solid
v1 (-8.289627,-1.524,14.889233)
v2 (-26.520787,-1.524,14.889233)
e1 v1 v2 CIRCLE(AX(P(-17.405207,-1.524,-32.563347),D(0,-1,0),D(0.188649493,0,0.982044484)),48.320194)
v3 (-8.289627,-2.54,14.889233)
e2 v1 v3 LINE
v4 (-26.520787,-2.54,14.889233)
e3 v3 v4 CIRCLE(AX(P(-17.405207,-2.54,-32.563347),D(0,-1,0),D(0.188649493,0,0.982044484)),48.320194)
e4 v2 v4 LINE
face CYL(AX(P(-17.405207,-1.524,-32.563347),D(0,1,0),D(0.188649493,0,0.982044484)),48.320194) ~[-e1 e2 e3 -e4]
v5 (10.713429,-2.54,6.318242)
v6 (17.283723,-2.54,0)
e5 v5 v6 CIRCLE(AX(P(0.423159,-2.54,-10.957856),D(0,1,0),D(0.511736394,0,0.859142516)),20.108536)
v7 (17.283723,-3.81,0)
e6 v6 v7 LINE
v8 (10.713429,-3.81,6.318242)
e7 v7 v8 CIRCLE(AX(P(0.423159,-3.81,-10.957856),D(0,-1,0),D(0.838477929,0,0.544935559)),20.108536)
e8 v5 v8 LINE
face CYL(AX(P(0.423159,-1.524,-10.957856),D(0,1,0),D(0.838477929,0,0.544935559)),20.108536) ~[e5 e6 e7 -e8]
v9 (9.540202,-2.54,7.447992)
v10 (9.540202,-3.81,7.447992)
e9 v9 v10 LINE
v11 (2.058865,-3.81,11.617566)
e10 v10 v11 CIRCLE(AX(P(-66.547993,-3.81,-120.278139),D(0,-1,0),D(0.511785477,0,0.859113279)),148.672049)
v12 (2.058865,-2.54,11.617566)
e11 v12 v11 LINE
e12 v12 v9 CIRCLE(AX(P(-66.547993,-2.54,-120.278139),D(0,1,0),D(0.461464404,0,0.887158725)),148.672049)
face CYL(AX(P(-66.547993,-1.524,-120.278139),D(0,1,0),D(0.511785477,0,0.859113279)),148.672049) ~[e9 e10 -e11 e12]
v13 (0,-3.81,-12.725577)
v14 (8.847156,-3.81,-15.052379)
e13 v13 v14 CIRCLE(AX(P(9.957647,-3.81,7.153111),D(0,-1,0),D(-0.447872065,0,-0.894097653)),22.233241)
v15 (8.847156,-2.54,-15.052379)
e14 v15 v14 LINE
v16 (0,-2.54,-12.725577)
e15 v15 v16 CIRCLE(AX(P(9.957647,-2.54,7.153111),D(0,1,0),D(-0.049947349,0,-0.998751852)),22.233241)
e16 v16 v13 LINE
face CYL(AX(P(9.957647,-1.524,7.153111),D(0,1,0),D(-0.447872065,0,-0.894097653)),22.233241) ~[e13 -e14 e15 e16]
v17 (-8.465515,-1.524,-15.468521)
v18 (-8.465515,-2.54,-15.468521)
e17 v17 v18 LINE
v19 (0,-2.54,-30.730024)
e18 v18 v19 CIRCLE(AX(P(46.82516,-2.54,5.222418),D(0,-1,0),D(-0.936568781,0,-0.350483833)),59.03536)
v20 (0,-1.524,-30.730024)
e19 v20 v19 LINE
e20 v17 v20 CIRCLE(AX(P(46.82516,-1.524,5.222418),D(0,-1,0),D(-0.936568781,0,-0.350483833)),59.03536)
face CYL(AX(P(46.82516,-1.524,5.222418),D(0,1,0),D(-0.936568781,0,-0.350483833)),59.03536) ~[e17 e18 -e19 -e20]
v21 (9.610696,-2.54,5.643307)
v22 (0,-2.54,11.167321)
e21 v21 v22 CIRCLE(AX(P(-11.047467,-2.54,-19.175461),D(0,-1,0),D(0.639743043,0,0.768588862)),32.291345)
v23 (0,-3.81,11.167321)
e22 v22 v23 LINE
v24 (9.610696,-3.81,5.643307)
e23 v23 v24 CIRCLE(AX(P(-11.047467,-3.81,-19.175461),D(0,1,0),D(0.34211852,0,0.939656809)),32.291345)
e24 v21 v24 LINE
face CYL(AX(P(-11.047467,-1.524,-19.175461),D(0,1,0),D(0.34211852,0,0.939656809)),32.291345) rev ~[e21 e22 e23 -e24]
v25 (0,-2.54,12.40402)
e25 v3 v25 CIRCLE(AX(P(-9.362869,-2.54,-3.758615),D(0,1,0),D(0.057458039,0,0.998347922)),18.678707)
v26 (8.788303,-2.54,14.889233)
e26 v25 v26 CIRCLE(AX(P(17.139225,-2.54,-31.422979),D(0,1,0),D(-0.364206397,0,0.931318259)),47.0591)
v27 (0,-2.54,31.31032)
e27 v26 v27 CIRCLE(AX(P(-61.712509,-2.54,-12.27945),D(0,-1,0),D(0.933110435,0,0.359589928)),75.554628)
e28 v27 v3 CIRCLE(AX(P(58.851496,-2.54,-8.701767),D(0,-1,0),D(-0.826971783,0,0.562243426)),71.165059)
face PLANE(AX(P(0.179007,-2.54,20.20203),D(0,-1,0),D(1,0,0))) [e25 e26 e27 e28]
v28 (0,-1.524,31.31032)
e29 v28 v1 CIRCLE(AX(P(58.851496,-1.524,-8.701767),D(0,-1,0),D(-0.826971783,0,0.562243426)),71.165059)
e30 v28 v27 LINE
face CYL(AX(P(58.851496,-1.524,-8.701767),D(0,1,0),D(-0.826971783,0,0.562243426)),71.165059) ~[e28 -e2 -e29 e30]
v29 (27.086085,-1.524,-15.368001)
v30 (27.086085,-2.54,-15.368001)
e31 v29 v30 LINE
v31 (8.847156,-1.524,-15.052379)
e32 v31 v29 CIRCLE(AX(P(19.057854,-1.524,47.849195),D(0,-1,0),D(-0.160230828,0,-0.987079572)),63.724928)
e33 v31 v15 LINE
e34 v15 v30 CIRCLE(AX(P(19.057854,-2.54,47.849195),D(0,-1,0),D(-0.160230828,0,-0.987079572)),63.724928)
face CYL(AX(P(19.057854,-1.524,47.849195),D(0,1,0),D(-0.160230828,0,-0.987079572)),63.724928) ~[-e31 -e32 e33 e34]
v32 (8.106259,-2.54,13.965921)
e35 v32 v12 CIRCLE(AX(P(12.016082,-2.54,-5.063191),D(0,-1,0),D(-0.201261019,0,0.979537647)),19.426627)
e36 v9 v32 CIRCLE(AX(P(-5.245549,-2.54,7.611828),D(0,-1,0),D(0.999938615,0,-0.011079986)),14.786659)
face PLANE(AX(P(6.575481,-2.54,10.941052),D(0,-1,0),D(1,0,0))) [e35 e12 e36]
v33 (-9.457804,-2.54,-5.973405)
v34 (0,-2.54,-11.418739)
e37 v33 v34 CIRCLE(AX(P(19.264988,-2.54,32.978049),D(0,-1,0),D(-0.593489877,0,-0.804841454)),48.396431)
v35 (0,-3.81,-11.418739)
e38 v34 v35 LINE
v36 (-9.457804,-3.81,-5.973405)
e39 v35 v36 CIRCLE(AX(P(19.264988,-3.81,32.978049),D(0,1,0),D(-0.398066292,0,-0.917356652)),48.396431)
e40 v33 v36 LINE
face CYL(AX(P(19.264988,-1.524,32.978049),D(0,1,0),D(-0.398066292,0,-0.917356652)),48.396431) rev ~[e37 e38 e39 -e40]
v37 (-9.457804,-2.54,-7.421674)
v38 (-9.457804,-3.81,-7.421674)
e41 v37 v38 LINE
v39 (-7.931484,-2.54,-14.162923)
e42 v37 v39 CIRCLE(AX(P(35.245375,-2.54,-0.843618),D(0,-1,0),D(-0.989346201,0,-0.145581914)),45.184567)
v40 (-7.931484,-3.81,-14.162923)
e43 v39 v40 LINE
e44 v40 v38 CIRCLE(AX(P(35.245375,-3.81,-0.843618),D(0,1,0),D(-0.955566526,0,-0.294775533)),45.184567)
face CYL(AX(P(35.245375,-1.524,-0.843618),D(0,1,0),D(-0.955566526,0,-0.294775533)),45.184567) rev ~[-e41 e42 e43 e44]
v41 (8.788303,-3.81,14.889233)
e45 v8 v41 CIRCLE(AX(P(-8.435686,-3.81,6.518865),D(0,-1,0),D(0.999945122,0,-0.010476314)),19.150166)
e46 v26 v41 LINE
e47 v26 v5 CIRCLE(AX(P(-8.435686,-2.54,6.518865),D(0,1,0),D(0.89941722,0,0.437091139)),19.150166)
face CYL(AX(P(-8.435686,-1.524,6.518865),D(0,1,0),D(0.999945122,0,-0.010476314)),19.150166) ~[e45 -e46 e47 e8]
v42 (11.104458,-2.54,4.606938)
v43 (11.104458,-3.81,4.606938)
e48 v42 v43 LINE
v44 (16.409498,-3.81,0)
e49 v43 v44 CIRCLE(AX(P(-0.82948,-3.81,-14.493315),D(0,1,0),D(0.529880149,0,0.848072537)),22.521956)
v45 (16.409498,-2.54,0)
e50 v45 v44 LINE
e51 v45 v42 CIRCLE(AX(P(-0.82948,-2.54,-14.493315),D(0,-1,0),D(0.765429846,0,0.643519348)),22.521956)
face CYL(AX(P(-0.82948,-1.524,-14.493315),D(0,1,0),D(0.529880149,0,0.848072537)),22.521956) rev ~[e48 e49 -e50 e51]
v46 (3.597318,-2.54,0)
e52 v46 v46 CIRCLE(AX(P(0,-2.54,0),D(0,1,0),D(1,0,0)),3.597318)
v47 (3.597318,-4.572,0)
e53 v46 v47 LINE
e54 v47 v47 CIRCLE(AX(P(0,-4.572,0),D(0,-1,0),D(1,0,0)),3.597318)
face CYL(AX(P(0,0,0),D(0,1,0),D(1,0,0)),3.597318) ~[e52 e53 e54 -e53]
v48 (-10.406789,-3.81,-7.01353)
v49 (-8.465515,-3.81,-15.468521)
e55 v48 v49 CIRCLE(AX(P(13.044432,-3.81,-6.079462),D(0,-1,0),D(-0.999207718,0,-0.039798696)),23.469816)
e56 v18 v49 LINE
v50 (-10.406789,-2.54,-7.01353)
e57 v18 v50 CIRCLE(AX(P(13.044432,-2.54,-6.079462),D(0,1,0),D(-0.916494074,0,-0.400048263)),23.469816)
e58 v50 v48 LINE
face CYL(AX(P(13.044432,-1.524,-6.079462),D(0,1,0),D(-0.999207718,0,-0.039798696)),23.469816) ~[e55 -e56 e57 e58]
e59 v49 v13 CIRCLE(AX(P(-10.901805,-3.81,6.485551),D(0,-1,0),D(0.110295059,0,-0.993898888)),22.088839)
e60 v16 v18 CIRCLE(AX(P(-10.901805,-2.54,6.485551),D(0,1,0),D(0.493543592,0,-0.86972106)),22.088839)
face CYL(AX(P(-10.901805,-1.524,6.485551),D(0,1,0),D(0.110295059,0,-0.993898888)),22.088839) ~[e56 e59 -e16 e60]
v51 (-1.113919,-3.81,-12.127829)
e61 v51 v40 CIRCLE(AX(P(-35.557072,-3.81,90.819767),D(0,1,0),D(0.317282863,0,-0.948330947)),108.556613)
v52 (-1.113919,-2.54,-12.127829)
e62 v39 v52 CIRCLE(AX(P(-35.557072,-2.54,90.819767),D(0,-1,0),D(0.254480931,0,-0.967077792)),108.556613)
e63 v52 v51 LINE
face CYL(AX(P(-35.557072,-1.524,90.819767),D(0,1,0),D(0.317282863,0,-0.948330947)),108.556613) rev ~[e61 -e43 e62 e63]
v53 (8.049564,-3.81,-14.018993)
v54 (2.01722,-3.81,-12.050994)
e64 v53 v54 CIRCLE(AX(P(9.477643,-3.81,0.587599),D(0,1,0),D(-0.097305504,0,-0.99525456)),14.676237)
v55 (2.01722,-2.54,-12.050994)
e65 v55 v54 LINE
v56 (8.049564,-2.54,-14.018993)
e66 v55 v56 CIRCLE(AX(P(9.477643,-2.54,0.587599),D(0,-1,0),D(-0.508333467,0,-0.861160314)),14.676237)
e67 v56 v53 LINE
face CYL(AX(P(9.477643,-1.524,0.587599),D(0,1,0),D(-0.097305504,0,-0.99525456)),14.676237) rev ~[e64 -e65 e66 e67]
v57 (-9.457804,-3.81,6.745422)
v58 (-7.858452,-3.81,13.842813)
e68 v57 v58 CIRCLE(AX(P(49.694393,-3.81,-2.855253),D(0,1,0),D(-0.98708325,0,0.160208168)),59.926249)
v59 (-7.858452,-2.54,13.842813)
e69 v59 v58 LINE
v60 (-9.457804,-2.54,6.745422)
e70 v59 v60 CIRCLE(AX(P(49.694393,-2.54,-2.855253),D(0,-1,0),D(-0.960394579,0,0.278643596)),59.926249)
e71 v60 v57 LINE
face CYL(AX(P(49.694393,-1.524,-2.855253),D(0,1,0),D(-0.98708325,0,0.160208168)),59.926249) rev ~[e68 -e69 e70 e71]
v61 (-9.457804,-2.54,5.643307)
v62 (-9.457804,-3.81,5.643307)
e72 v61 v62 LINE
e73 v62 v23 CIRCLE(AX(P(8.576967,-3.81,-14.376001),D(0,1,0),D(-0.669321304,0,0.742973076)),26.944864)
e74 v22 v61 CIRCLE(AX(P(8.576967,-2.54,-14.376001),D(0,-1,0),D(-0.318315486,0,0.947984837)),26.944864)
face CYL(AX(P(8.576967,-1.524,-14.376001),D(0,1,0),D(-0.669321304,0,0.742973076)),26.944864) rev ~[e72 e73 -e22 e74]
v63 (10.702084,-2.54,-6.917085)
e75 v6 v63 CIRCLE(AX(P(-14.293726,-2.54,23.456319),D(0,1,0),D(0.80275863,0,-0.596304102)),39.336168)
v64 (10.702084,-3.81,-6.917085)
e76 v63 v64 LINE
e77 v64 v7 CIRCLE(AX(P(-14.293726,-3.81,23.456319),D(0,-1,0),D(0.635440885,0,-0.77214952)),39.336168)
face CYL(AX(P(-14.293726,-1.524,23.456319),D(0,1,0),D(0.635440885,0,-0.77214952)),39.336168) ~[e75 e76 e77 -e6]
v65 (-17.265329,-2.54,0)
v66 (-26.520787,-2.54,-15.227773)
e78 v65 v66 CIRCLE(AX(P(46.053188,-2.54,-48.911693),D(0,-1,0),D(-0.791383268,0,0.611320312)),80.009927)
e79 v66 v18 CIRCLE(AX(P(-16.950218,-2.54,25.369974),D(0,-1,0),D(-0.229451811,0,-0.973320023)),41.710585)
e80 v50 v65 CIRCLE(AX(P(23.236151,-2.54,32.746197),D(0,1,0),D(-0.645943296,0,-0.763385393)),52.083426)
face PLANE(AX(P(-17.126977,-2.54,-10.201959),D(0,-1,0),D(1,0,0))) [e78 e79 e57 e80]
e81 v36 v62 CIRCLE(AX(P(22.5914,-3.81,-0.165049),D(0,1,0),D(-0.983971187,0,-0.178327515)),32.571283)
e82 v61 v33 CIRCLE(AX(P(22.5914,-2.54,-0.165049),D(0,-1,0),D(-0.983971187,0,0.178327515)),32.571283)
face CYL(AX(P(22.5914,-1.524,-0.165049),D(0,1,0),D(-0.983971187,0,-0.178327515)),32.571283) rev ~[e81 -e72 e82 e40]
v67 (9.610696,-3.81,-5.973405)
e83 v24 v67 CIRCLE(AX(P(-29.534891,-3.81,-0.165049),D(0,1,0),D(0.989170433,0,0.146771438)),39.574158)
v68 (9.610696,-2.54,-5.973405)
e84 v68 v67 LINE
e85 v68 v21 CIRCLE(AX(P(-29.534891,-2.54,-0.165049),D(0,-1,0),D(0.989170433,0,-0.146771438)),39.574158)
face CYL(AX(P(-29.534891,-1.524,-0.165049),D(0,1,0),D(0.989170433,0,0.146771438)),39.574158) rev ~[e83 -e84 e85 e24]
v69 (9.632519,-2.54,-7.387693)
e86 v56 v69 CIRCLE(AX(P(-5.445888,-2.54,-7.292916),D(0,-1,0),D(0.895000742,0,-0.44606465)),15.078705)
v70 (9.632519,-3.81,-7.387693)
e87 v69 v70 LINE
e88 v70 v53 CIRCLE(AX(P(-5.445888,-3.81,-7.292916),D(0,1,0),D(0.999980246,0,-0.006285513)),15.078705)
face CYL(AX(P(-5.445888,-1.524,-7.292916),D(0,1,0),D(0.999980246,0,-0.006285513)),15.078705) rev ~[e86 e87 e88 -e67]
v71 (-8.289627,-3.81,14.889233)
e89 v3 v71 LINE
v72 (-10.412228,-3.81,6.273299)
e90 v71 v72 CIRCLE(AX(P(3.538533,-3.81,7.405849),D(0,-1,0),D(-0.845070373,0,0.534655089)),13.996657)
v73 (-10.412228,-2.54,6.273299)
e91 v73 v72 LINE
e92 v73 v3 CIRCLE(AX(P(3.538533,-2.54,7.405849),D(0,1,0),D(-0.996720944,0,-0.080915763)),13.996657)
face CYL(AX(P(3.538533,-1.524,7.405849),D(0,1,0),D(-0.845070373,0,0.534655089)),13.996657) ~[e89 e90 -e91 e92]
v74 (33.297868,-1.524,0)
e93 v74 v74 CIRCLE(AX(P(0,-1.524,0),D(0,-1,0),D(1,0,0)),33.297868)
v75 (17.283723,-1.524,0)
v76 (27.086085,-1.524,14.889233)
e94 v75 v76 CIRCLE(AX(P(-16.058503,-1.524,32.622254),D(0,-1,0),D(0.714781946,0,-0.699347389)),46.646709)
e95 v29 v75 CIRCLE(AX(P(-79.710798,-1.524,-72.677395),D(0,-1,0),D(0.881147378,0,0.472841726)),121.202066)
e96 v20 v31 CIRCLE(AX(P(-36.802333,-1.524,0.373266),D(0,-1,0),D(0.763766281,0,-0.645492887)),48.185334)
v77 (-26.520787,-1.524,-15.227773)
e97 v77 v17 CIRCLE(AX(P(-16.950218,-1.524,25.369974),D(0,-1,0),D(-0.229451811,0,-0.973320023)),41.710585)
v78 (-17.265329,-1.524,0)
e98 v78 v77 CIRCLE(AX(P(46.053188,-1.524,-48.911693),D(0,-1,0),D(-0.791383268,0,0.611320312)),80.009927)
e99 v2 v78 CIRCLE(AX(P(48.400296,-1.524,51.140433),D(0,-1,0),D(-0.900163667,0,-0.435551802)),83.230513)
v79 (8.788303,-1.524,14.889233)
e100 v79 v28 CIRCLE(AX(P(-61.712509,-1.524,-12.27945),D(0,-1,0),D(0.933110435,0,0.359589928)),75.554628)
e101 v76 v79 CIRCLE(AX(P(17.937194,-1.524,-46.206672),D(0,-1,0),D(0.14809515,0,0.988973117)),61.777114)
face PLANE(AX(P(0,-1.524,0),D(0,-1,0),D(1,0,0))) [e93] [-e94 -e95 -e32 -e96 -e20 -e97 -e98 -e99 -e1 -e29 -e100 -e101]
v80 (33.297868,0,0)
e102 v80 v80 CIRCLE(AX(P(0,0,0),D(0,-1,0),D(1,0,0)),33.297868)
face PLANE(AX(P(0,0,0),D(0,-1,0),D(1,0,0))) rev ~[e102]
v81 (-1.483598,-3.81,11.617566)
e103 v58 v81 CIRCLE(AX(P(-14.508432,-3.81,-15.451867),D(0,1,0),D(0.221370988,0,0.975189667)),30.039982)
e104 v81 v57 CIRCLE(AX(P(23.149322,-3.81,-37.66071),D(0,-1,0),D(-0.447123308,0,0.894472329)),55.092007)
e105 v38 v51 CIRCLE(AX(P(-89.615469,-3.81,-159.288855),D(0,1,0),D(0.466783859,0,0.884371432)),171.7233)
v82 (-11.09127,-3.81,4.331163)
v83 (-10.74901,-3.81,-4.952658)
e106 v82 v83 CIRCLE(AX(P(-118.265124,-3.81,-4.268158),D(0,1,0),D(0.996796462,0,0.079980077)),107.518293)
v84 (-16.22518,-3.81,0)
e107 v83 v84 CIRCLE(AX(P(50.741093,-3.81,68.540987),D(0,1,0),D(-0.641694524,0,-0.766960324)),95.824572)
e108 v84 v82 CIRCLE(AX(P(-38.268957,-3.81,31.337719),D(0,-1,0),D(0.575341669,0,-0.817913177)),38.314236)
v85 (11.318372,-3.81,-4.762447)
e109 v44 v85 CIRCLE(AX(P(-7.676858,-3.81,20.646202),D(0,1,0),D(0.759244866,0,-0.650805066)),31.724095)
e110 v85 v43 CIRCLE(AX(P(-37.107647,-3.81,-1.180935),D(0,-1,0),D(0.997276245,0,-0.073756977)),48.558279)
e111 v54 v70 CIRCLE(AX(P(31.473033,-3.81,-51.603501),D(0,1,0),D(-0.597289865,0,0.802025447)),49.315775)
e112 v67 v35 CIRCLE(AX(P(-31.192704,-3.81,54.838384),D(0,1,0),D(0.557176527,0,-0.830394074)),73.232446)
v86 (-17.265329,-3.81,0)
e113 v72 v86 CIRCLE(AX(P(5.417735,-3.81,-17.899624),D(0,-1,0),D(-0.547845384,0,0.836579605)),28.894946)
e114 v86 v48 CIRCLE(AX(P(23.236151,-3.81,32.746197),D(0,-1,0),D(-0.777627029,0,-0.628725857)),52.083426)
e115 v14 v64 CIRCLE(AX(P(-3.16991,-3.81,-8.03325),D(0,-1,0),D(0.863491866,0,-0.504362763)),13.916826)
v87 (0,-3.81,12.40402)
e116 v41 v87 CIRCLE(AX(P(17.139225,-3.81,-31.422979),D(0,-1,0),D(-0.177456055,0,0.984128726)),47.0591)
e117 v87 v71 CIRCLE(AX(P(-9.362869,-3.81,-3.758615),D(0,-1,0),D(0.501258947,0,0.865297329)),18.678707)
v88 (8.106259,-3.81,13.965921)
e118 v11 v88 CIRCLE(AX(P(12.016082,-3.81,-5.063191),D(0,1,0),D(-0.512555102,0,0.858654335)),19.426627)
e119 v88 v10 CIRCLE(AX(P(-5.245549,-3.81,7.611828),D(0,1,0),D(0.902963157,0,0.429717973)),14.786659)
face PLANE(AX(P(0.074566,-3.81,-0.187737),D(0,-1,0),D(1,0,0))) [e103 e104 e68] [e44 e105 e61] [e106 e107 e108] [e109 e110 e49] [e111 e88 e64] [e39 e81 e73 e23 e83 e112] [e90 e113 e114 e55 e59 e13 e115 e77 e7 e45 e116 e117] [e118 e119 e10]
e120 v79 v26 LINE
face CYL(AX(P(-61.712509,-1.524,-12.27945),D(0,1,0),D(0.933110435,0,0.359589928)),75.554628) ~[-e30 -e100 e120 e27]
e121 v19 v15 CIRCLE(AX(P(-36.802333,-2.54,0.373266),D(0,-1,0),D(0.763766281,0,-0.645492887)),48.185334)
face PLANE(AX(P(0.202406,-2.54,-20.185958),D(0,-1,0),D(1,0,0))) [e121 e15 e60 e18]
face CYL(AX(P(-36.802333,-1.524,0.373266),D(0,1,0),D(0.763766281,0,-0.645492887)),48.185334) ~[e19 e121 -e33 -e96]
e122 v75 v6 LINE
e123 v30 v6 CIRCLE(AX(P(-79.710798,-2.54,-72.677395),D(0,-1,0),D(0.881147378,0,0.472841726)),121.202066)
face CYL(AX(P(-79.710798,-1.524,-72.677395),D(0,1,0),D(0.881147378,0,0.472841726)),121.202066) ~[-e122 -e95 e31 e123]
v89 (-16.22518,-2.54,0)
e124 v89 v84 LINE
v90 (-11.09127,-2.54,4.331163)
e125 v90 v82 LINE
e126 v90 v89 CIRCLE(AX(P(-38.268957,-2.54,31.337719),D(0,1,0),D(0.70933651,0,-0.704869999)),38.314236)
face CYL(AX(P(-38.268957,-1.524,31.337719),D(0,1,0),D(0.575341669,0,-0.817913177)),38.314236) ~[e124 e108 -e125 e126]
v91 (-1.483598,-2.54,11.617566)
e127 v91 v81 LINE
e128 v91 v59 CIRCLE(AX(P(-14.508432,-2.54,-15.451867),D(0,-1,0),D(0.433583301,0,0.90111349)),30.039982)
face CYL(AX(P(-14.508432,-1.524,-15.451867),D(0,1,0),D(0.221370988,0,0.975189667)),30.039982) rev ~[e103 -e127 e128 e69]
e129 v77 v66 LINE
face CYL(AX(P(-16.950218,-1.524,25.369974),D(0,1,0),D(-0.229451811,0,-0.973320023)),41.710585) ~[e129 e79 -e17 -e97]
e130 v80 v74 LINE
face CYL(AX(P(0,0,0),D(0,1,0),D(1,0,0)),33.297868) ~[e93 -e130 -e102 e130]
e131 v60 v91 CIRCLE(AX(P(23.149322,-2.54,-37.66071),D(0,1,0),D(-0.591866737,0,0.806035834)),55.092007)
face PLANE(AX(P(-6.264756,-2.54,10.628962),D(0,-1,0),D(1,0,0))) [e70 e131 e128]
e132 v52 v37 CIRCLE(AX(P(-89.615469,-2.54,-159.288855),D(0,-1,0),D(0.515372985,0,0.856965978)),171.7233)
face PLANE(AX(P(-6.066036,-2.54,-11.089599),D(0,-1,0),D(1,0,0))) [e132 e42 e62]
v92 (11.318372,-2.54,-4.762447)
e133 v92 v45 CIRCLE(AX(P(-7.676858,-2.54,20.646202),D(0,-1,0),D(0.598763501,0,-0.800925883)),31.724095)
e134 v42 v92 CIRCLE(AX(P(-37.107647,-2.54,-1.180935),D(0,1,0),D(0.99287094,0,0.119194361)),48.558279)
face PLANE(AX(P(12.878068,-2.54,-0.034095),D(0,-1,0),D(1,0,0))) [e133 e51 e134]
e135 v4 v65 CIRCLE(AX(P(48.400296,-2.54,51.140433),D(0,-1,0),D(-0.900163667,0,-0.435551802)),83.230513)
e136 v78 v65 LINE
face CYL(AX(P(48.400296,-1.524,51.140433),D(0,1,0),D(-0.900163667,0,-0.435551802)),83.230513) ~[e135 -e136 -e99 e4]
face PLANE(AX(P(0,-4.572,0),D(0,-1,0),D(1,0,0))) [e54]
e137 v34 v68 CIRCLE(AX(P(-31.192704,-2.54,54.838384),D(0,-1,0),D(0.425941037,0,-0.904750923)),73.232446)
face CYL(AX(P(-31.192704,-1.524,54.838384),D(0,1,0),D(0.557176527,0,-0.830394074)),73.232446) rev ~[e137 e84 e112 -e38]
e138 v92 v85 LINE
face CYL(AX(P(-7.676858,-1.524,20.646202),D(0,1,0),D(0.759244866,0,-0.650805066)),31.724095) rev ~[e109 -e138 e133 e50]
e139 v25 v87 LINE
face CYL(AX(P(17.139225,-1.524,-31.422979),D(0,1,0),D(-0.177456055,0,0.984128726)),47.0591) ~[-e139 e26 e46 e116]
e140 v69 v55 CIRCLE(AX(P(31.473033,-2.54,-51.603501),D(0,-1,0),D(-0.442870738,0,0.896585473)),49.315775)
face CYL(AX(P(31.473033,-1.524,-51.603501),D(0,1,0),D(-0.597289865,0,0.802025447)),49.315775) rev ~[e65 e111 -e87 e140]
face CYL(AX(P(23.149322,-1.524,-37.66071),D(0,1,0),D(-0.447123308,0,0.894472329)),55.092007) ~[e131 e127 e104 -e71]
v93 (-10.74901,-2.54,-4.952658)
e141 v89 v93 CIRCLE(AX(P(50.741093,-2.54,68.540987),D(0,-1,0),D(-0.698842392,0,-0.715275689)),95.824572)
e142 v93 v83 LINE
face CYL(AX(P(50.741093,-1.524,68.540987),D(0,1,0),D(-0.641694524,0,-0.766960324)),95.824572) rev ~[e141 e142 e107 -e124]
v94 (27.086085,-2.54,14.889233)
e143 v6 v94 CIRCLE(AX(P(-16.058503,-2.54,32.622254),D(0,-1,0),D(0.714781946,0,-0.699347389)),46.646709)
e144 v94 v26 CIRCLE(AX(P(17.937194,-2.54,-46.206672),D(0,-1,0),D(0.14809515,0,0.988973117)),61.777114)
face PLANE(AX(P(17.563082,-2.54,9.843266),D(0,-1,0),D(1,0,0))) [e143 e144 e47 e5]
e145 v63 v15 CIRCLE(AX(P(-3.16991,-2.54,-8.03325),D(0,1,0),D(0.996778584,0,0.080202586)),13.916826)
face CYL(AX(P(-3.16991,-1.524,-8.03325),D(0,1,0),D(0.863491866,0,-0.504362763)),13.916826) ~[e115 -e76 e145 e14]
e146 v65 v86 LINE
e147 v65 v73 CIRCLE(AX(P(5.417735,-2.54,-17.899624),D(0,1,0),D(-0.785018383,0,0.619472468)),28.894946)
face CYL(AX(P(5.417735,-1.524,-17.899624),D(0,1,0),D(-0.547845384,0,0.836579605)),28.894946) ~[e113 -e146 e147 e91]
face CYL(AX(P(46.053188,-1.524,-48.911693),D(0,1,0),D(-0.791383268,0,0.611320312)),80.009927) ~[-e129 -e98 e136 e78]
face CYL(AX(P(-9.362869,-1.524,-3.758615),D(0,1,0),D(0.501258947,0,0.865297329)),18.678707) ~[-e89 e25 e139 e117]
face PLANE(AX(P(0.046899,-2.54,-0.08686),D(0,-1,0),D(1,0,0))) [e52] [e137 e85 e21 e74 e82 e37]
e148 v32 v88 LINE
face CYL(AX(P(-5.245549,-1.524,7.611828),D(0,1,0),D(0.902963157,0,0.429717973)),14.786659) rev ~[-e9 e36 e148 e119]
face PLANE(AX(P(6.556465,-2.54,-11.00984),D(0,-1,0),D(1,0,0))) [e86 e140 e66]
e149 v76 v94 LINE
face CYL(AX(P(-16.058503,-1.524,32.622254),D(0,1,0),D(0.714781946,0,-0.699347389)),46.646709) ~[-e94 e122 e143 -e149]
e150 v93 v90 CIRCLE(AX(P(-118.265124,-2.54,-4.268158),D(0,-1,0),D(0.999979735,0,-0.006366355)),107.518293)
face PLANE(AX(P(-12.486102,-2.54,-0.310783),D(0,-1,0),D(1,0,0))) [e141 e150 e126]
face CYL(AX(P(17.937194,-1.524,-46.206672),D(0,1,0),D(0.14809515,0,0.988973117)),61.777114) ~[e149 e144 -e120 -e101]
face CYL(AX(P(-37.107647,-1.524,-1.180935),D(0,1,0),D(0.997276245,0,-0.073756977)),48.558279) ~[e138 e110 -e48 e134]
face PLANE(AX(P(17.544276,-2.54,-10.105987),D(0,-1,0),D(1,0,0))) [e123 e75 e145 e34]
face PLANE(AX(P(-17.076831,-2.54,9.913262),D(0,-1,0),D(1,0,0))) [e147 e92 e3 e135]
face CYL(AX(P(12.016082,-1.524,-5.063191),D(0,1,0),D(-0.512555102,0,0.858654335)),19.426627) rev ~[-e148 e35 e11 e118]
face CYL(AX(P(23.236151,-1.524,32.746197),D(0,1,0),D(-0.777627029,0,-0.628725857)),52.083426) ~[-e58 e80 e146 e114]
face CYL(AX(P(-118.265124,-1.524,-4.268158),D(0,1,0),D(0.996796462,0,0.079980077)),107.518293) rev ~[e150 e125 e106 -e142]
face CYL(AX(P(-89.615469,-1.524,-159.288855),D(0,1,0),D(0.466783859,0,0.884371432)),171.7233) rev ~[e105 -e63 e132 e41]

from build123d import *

# Parameters (mm, degrees)
F2_R     = 3.597318
F3_DEPTH = 4.572
F1_R     = 33.297868
F4_DEPTH = 1.524
F6_DEPTH = 2.286
F7_DEPTH = 1.016


with BuildPart() as f3:
    # F2 (on face) → F3 (new body)
    with BuildSketch(Plane.XZ):
        Circle(F2_R)
    extrude(amount=F3_DEPTH)

    # F1 (on Front) → F4 (join)
    with BuildSketch(Plane.XZ):
        Circle(F1_R)
    extrude(amount=F4_DEPTH)

    # F5 (on face) → F6 (join)
    with BuildSketch(Plane.XZ.offset(1.524)):
        with BuildLine():
            ThreePointArc((10.713429, 6.318242), (10.248964, 10.715615), (8.788303, 14.889233))
            ThreePointArc((8.788303, 14.889233), (4.333719, 13.860328), (0, 12.40402))
            ThreePointArc((0, 12.40402), (-3.998899, 14.133336), (-8.289627, 14.889233))
            ThreePointArc((-8.289627, 14.889233), (-10.051786, 10.753928), (-10.412228, 6.273299))
            ThreePointArc((-10.412228, 6.273299), (-14.092567, 3.413894), (-17.265329, 0))
            ThreePointArc((-17.265329, 0), (-14.001547, -3.668596), (-10.406789, -7.01353))
            ThreePointArc((-10.406789, -7.01353), (-9.830191, -11.331497), (-8.465515, -15.468521))
            ThreePointArc((-8.465515, -15.468521), (-4.093198, -14.52777), (0, -12.725577))
            ThreePointArc((0, -12.725577), (4.302612, -14.348925), (8.847156, -15.052379))
            ThreePointArc((8.847156, -15.052379), (10.398679, -11.127024), (10.702084, -6.917085))
            ThreePointArc((10.702084, -6.917085), (14.203553, -3.658977), (17.283723, 0))
            ThreePointArc((17.283723, 0), (14.361308, 3.536323), (10.713429, 6.318242))
        make_face()
        with BuildLine():
            ThreePointArc((-10.74901, -4.952658), (-13.534815, -2.529093), (-16.22518, 0))
            ThreePointArc((-16.22518, 0), (-13.56313, 2.052862), (-11.09127, 4.331163))
            ThreePointArc((-11.09127, 4.331163), (-10.819822, -0.307049), (-10.74901, -4.952658))
        make_face(mode=Mode.SUBTRACT)
        with BuildLine():
            ThreePointArc((-1.113919, -12.127829), (-4.506024, -13.201244), (-7.931484, -14.162923))
            ThreePointArc((-7.931484, -14.162923), (-8.823734, -10.821527), (-9.457804, -7.421674))
            ThreePointArc((-9.457804, -7.421674), (-5.253039, -9.716557), (-1.113919, -12.127829))
        make_face(mode=Mode.SUBTRACT)
        with BuildLine():
            ThreePointArc((9.610696, -5.973405), (4.908164, -8.877536), (0, -11.418739))
            ThreePointArc((0, -11.418739), (-4.882883, -8.963516), (-9.457804, -5.973405))
            ThreePointArc((-9.457804, -5.973405), (-9.979883, -0.165049), (-9.457804, 5.643307))
            ThreePointArc((-9.457804, 5.643307), (-5.012545, 8.890946), (0, 11.167321))
            ThreePointArc((0, 11.167321), (5.044159, 8.820798), (9.610696, 5.643307))
            ThreePointArc((9.610696, 5.643307), (10.039267, -0.165049), (9.610696, -5.973405))
        make_face(mode=Mode.SUBTRACT)
        with BuildLine():
            ThreePointArc((9.632519, -7.387693), (9.220737, -10.79398), (8.049564, -14.018993))
            ThreePointArc((8.049564, -14.018993), (4.925761, -13.364903), (2.01722, -12.050994))
            ThreePointArc((2.01722, -12.050994), (5.719103, -9.546625), (9.632519, -7.387693))
        make_face(mode=Mode.SUBTRACT)
        with BuildLine():
            ThreePointArc((11.104458, 4.606938), (13.937738, 2.51162), (16.409498, 0))
            ThreePointArc((16.409498, 0), (13.995151, -2.521496), (11.318372, -4.762447))
            ThreePointArc((11.318372, -4.762447), (11.437982, -0.072581), (11.104458, 4.606938))
        make_face(mode=Mode.SUBTRACT)
        with BuildLine():
            ThreePointArc((-9.457804, 6.745422), (-8.765935, 10.318411), (-7.858452, 13.842813))
            ThreePointArc((-7.858452, 13.842813), (-4.608306, 12.909868), (-1.483598, 11.617566))
            ThreePointArc((-1.483598, 11.617566), (-5.574191, 9.350874), (-9.457804, 6.745422))
        make_face(mode=Mode.SUBTRACT)
        with BuildLine():
            ThreePointArc((8.106259, 13.965921), (9.19576, 10.788913), (9.540202, 7.447992))
            ThreePointArc((9.540202, 7.447992), (5.829565, 9.586664), (2.058865, 11.617566))
            ThreePointArc((2.058865, 11.617566), (4.983842, 13.045962), (8.106259, 13.965921))
        make_face(mode=Mode.SUBTRACT)
    extrude(amount=F6_DEPTH)

    # F5 (on face) → F7 (join)
    with BuildSketch(Plane.XZ.offset(1.524)):
        with BuildLine():
            ThreePointArc((-10.412228, 6.273299), (-10.051786, 10.753928), (-8.289627, 14.889233))
            ThreePointArc((-8.289627, 14.889233), (-17.405207, 15.756847), (-26.520787, 14.889233))
            ThreePointArc((-26.520787, 14.889233), (-22.28618, 7.200243), (-17.265329, 0))
            ThreePointArc((-17.265329, 0), (-14.092567, 3.413894), (-10.412228, 6.273299))
        make_face()
        with BuildLine():
            ThreePointArc((0, 12.40402), (4.333719, 13.860328), (8.788303, 14.889233))
            ThreePointArc((8.788303, 14.889233), (4.902081, 23.371612), (0, 31.31032))
            ThreePointArc((0, 31.31032), (-4.677616, 23.368743), (-8.289627, 14.889233))
            ThreePointArc((-8.289627, 14.889233), (-3.998899, 14.133336), (0, 12.40402))
        make_face()
        with BuildLine():
            ThreePointArc((27.086085, 14.889233), (17.937194, 15.570442), (8.788303, 14.889233))
            ThreePointArc((8.788303, 14.889233), (10.248964, 10.715615), (10.713429, 6.318242))
            ThreePointArc((10.713429, 6.318242), (14.361308, 3.536323), (17.283723, 0))
            ThreePointArc((17.283723, 0), (22.902766, 6.97201), (27.086085, 14.889233))
        make_face()
        with BuildLine():
            ThreePointArc((27.086085, -15.368001), (22.47422, -7.499462), (17.283723, 0))
            ThreePointArc((17.283723, 0), (14.203553, -3.658977), (10.702084, -6.917085))
            ThreePointArc((10.702084, -6.917085), (10.398679, -11.127024), (8.847156, -15.052379))
            ThreePointArc((8.847156, -15.052379), (17.955268, -15.866193), (27.086085, -15.368001))
        make_face()
        with BuildLine():
            ThreePointArc((0, -30.730024), (5.16221, -23.308024), (8.847156, -15.052379))
            ThreePointArc((8.847156, -15.052379), (4.302612, -14.348925), (0, -12.725577))
            ThreePointArc((0, -12.725577), (-4.093198, -14.52777), (-8.465515, -15.468521))
            ThreePointArc((-8.465515, -15.468521), (-4.799827, -23.413825), (0, -30.730024))
        make_face()
        with BuildLine():
            ThreePointArc((-10.406789, -7.01353), (-14.001547, -3.668596), (-17.265329, 0))
            ThreePointArc((-17.265329, 0), (-22.318324, -7.35541), (-26.520787, -15.227773))
            ThreePointArc((-26.520787, -15.227773), (-17.506335, -16.336903), (-8.465515, -15.468521))
            ThreePointArc((-8.465515, -15.468521), (-9.830191, -11.331497), (-10.406789, -7.01353))
        make_face()
        with BuildLine():
            ThreePointArc((-9.457804, -7.421674), (-8.823734, -10.821527), (-7.931484, -14.162923))
            ThreePointArc((-7.931484, -14.162923), (-4.506024, -13.201244), (-1.113919, -12.127829))
            ThreePointArc((-1.113919, -12.127829), (-5.253039, -9.716557), (-9.457804, -7.421674))
        make_face()
        with BuildLine():
            ThreePointArc((2.01722, -12.050994), (4.925761, -13.364903), (8.049564, -14.018993))
            ThreePointArc((8.049564, -14.018993), (9.220737, -10.79398), (9.632519, -7.387693))
            ThreePointArc((9.632519, -7.387693), (5.719103, -9.546625), (2.01722, -12.050994))
        make_face()
        with BuildLine():
            ThreePointArc((-9.457804, -5.973405), (-4.882883, -8.963516), (0, -11.418739))
            ThreePointArc((0, -11.418739), (4.908164, -8.877536), (9.610696, -5.973405))
            ThreePointArc((9.610696, -5.973405), (10.039267, -0.165049), (9.610696, 5.643307))
            ThreePointArc((9.610696, 5.643307), (5.044159, 8.820798), (0, 11.167321))
            ThreePointArc((0, 11.167321), (-5.012545, 8.890946), (-9.457804, 5.643307))
            ThreePointArc((-9.457804, 5.643307), (-9.979883, -0.165049), (-9.457804, -5.973405))
        make_face()
        with BuildLine():
            ThreePointArc((11.318372, -4.762447), (13.995151, -2.521496), (16.409498, 0))
            ThreePointArc((16.409498, 0), (13.937738, 2.51162), (11.104458, 4.606938))
            ThreePointArc((11.104458, 4.606938), (11.437982, -0.072581), (11.318372, -4.762447))
        make_face()
        with BuildLine():
            ThreePointArc((-1.483598, 11.617566), (-4.608306, 12.909868), (-7.858452, 13.842813))
            ThreePointArc((-7.858452, 13.842813), (-8.765935, 10.318411), (-9.457804, 6.745422))
            ThreePointArc((-9.457804, 6.745422), (-5.574191, 9.350874), (-1.483598, 11.617566))
        make_face()
        with BuildLine():
            ThreePointArc((2.058865, 11.617566), (5.829565, 9.586664), (9.540202, 7.447992))
            ThreePointArc((9.540202, 7.447992), (9.19576, 10.788913), (8.106259, 13.965921))
            ThreePointArc((8.106259, 13.965921), (4.983842, 13.045962), (2.058865, 11.617566))
        make_face()
        with BuildLine():
            ThreePointArc((-11.09127, 4.331163), (-13.56313, 2.052862), (-16.22518, 0))
            ThreePointArc((-16.22518, 0), (-13.534815, -2.529093), (-10.74901, -4.952658))
            ThreePointArc((-10.74901, -4.952658), (-10.819822, -0.307049), (-11.09127, 4.331163))
        make_face()
    extrude(amount=F7_DEPTH)


solid = f3.part
